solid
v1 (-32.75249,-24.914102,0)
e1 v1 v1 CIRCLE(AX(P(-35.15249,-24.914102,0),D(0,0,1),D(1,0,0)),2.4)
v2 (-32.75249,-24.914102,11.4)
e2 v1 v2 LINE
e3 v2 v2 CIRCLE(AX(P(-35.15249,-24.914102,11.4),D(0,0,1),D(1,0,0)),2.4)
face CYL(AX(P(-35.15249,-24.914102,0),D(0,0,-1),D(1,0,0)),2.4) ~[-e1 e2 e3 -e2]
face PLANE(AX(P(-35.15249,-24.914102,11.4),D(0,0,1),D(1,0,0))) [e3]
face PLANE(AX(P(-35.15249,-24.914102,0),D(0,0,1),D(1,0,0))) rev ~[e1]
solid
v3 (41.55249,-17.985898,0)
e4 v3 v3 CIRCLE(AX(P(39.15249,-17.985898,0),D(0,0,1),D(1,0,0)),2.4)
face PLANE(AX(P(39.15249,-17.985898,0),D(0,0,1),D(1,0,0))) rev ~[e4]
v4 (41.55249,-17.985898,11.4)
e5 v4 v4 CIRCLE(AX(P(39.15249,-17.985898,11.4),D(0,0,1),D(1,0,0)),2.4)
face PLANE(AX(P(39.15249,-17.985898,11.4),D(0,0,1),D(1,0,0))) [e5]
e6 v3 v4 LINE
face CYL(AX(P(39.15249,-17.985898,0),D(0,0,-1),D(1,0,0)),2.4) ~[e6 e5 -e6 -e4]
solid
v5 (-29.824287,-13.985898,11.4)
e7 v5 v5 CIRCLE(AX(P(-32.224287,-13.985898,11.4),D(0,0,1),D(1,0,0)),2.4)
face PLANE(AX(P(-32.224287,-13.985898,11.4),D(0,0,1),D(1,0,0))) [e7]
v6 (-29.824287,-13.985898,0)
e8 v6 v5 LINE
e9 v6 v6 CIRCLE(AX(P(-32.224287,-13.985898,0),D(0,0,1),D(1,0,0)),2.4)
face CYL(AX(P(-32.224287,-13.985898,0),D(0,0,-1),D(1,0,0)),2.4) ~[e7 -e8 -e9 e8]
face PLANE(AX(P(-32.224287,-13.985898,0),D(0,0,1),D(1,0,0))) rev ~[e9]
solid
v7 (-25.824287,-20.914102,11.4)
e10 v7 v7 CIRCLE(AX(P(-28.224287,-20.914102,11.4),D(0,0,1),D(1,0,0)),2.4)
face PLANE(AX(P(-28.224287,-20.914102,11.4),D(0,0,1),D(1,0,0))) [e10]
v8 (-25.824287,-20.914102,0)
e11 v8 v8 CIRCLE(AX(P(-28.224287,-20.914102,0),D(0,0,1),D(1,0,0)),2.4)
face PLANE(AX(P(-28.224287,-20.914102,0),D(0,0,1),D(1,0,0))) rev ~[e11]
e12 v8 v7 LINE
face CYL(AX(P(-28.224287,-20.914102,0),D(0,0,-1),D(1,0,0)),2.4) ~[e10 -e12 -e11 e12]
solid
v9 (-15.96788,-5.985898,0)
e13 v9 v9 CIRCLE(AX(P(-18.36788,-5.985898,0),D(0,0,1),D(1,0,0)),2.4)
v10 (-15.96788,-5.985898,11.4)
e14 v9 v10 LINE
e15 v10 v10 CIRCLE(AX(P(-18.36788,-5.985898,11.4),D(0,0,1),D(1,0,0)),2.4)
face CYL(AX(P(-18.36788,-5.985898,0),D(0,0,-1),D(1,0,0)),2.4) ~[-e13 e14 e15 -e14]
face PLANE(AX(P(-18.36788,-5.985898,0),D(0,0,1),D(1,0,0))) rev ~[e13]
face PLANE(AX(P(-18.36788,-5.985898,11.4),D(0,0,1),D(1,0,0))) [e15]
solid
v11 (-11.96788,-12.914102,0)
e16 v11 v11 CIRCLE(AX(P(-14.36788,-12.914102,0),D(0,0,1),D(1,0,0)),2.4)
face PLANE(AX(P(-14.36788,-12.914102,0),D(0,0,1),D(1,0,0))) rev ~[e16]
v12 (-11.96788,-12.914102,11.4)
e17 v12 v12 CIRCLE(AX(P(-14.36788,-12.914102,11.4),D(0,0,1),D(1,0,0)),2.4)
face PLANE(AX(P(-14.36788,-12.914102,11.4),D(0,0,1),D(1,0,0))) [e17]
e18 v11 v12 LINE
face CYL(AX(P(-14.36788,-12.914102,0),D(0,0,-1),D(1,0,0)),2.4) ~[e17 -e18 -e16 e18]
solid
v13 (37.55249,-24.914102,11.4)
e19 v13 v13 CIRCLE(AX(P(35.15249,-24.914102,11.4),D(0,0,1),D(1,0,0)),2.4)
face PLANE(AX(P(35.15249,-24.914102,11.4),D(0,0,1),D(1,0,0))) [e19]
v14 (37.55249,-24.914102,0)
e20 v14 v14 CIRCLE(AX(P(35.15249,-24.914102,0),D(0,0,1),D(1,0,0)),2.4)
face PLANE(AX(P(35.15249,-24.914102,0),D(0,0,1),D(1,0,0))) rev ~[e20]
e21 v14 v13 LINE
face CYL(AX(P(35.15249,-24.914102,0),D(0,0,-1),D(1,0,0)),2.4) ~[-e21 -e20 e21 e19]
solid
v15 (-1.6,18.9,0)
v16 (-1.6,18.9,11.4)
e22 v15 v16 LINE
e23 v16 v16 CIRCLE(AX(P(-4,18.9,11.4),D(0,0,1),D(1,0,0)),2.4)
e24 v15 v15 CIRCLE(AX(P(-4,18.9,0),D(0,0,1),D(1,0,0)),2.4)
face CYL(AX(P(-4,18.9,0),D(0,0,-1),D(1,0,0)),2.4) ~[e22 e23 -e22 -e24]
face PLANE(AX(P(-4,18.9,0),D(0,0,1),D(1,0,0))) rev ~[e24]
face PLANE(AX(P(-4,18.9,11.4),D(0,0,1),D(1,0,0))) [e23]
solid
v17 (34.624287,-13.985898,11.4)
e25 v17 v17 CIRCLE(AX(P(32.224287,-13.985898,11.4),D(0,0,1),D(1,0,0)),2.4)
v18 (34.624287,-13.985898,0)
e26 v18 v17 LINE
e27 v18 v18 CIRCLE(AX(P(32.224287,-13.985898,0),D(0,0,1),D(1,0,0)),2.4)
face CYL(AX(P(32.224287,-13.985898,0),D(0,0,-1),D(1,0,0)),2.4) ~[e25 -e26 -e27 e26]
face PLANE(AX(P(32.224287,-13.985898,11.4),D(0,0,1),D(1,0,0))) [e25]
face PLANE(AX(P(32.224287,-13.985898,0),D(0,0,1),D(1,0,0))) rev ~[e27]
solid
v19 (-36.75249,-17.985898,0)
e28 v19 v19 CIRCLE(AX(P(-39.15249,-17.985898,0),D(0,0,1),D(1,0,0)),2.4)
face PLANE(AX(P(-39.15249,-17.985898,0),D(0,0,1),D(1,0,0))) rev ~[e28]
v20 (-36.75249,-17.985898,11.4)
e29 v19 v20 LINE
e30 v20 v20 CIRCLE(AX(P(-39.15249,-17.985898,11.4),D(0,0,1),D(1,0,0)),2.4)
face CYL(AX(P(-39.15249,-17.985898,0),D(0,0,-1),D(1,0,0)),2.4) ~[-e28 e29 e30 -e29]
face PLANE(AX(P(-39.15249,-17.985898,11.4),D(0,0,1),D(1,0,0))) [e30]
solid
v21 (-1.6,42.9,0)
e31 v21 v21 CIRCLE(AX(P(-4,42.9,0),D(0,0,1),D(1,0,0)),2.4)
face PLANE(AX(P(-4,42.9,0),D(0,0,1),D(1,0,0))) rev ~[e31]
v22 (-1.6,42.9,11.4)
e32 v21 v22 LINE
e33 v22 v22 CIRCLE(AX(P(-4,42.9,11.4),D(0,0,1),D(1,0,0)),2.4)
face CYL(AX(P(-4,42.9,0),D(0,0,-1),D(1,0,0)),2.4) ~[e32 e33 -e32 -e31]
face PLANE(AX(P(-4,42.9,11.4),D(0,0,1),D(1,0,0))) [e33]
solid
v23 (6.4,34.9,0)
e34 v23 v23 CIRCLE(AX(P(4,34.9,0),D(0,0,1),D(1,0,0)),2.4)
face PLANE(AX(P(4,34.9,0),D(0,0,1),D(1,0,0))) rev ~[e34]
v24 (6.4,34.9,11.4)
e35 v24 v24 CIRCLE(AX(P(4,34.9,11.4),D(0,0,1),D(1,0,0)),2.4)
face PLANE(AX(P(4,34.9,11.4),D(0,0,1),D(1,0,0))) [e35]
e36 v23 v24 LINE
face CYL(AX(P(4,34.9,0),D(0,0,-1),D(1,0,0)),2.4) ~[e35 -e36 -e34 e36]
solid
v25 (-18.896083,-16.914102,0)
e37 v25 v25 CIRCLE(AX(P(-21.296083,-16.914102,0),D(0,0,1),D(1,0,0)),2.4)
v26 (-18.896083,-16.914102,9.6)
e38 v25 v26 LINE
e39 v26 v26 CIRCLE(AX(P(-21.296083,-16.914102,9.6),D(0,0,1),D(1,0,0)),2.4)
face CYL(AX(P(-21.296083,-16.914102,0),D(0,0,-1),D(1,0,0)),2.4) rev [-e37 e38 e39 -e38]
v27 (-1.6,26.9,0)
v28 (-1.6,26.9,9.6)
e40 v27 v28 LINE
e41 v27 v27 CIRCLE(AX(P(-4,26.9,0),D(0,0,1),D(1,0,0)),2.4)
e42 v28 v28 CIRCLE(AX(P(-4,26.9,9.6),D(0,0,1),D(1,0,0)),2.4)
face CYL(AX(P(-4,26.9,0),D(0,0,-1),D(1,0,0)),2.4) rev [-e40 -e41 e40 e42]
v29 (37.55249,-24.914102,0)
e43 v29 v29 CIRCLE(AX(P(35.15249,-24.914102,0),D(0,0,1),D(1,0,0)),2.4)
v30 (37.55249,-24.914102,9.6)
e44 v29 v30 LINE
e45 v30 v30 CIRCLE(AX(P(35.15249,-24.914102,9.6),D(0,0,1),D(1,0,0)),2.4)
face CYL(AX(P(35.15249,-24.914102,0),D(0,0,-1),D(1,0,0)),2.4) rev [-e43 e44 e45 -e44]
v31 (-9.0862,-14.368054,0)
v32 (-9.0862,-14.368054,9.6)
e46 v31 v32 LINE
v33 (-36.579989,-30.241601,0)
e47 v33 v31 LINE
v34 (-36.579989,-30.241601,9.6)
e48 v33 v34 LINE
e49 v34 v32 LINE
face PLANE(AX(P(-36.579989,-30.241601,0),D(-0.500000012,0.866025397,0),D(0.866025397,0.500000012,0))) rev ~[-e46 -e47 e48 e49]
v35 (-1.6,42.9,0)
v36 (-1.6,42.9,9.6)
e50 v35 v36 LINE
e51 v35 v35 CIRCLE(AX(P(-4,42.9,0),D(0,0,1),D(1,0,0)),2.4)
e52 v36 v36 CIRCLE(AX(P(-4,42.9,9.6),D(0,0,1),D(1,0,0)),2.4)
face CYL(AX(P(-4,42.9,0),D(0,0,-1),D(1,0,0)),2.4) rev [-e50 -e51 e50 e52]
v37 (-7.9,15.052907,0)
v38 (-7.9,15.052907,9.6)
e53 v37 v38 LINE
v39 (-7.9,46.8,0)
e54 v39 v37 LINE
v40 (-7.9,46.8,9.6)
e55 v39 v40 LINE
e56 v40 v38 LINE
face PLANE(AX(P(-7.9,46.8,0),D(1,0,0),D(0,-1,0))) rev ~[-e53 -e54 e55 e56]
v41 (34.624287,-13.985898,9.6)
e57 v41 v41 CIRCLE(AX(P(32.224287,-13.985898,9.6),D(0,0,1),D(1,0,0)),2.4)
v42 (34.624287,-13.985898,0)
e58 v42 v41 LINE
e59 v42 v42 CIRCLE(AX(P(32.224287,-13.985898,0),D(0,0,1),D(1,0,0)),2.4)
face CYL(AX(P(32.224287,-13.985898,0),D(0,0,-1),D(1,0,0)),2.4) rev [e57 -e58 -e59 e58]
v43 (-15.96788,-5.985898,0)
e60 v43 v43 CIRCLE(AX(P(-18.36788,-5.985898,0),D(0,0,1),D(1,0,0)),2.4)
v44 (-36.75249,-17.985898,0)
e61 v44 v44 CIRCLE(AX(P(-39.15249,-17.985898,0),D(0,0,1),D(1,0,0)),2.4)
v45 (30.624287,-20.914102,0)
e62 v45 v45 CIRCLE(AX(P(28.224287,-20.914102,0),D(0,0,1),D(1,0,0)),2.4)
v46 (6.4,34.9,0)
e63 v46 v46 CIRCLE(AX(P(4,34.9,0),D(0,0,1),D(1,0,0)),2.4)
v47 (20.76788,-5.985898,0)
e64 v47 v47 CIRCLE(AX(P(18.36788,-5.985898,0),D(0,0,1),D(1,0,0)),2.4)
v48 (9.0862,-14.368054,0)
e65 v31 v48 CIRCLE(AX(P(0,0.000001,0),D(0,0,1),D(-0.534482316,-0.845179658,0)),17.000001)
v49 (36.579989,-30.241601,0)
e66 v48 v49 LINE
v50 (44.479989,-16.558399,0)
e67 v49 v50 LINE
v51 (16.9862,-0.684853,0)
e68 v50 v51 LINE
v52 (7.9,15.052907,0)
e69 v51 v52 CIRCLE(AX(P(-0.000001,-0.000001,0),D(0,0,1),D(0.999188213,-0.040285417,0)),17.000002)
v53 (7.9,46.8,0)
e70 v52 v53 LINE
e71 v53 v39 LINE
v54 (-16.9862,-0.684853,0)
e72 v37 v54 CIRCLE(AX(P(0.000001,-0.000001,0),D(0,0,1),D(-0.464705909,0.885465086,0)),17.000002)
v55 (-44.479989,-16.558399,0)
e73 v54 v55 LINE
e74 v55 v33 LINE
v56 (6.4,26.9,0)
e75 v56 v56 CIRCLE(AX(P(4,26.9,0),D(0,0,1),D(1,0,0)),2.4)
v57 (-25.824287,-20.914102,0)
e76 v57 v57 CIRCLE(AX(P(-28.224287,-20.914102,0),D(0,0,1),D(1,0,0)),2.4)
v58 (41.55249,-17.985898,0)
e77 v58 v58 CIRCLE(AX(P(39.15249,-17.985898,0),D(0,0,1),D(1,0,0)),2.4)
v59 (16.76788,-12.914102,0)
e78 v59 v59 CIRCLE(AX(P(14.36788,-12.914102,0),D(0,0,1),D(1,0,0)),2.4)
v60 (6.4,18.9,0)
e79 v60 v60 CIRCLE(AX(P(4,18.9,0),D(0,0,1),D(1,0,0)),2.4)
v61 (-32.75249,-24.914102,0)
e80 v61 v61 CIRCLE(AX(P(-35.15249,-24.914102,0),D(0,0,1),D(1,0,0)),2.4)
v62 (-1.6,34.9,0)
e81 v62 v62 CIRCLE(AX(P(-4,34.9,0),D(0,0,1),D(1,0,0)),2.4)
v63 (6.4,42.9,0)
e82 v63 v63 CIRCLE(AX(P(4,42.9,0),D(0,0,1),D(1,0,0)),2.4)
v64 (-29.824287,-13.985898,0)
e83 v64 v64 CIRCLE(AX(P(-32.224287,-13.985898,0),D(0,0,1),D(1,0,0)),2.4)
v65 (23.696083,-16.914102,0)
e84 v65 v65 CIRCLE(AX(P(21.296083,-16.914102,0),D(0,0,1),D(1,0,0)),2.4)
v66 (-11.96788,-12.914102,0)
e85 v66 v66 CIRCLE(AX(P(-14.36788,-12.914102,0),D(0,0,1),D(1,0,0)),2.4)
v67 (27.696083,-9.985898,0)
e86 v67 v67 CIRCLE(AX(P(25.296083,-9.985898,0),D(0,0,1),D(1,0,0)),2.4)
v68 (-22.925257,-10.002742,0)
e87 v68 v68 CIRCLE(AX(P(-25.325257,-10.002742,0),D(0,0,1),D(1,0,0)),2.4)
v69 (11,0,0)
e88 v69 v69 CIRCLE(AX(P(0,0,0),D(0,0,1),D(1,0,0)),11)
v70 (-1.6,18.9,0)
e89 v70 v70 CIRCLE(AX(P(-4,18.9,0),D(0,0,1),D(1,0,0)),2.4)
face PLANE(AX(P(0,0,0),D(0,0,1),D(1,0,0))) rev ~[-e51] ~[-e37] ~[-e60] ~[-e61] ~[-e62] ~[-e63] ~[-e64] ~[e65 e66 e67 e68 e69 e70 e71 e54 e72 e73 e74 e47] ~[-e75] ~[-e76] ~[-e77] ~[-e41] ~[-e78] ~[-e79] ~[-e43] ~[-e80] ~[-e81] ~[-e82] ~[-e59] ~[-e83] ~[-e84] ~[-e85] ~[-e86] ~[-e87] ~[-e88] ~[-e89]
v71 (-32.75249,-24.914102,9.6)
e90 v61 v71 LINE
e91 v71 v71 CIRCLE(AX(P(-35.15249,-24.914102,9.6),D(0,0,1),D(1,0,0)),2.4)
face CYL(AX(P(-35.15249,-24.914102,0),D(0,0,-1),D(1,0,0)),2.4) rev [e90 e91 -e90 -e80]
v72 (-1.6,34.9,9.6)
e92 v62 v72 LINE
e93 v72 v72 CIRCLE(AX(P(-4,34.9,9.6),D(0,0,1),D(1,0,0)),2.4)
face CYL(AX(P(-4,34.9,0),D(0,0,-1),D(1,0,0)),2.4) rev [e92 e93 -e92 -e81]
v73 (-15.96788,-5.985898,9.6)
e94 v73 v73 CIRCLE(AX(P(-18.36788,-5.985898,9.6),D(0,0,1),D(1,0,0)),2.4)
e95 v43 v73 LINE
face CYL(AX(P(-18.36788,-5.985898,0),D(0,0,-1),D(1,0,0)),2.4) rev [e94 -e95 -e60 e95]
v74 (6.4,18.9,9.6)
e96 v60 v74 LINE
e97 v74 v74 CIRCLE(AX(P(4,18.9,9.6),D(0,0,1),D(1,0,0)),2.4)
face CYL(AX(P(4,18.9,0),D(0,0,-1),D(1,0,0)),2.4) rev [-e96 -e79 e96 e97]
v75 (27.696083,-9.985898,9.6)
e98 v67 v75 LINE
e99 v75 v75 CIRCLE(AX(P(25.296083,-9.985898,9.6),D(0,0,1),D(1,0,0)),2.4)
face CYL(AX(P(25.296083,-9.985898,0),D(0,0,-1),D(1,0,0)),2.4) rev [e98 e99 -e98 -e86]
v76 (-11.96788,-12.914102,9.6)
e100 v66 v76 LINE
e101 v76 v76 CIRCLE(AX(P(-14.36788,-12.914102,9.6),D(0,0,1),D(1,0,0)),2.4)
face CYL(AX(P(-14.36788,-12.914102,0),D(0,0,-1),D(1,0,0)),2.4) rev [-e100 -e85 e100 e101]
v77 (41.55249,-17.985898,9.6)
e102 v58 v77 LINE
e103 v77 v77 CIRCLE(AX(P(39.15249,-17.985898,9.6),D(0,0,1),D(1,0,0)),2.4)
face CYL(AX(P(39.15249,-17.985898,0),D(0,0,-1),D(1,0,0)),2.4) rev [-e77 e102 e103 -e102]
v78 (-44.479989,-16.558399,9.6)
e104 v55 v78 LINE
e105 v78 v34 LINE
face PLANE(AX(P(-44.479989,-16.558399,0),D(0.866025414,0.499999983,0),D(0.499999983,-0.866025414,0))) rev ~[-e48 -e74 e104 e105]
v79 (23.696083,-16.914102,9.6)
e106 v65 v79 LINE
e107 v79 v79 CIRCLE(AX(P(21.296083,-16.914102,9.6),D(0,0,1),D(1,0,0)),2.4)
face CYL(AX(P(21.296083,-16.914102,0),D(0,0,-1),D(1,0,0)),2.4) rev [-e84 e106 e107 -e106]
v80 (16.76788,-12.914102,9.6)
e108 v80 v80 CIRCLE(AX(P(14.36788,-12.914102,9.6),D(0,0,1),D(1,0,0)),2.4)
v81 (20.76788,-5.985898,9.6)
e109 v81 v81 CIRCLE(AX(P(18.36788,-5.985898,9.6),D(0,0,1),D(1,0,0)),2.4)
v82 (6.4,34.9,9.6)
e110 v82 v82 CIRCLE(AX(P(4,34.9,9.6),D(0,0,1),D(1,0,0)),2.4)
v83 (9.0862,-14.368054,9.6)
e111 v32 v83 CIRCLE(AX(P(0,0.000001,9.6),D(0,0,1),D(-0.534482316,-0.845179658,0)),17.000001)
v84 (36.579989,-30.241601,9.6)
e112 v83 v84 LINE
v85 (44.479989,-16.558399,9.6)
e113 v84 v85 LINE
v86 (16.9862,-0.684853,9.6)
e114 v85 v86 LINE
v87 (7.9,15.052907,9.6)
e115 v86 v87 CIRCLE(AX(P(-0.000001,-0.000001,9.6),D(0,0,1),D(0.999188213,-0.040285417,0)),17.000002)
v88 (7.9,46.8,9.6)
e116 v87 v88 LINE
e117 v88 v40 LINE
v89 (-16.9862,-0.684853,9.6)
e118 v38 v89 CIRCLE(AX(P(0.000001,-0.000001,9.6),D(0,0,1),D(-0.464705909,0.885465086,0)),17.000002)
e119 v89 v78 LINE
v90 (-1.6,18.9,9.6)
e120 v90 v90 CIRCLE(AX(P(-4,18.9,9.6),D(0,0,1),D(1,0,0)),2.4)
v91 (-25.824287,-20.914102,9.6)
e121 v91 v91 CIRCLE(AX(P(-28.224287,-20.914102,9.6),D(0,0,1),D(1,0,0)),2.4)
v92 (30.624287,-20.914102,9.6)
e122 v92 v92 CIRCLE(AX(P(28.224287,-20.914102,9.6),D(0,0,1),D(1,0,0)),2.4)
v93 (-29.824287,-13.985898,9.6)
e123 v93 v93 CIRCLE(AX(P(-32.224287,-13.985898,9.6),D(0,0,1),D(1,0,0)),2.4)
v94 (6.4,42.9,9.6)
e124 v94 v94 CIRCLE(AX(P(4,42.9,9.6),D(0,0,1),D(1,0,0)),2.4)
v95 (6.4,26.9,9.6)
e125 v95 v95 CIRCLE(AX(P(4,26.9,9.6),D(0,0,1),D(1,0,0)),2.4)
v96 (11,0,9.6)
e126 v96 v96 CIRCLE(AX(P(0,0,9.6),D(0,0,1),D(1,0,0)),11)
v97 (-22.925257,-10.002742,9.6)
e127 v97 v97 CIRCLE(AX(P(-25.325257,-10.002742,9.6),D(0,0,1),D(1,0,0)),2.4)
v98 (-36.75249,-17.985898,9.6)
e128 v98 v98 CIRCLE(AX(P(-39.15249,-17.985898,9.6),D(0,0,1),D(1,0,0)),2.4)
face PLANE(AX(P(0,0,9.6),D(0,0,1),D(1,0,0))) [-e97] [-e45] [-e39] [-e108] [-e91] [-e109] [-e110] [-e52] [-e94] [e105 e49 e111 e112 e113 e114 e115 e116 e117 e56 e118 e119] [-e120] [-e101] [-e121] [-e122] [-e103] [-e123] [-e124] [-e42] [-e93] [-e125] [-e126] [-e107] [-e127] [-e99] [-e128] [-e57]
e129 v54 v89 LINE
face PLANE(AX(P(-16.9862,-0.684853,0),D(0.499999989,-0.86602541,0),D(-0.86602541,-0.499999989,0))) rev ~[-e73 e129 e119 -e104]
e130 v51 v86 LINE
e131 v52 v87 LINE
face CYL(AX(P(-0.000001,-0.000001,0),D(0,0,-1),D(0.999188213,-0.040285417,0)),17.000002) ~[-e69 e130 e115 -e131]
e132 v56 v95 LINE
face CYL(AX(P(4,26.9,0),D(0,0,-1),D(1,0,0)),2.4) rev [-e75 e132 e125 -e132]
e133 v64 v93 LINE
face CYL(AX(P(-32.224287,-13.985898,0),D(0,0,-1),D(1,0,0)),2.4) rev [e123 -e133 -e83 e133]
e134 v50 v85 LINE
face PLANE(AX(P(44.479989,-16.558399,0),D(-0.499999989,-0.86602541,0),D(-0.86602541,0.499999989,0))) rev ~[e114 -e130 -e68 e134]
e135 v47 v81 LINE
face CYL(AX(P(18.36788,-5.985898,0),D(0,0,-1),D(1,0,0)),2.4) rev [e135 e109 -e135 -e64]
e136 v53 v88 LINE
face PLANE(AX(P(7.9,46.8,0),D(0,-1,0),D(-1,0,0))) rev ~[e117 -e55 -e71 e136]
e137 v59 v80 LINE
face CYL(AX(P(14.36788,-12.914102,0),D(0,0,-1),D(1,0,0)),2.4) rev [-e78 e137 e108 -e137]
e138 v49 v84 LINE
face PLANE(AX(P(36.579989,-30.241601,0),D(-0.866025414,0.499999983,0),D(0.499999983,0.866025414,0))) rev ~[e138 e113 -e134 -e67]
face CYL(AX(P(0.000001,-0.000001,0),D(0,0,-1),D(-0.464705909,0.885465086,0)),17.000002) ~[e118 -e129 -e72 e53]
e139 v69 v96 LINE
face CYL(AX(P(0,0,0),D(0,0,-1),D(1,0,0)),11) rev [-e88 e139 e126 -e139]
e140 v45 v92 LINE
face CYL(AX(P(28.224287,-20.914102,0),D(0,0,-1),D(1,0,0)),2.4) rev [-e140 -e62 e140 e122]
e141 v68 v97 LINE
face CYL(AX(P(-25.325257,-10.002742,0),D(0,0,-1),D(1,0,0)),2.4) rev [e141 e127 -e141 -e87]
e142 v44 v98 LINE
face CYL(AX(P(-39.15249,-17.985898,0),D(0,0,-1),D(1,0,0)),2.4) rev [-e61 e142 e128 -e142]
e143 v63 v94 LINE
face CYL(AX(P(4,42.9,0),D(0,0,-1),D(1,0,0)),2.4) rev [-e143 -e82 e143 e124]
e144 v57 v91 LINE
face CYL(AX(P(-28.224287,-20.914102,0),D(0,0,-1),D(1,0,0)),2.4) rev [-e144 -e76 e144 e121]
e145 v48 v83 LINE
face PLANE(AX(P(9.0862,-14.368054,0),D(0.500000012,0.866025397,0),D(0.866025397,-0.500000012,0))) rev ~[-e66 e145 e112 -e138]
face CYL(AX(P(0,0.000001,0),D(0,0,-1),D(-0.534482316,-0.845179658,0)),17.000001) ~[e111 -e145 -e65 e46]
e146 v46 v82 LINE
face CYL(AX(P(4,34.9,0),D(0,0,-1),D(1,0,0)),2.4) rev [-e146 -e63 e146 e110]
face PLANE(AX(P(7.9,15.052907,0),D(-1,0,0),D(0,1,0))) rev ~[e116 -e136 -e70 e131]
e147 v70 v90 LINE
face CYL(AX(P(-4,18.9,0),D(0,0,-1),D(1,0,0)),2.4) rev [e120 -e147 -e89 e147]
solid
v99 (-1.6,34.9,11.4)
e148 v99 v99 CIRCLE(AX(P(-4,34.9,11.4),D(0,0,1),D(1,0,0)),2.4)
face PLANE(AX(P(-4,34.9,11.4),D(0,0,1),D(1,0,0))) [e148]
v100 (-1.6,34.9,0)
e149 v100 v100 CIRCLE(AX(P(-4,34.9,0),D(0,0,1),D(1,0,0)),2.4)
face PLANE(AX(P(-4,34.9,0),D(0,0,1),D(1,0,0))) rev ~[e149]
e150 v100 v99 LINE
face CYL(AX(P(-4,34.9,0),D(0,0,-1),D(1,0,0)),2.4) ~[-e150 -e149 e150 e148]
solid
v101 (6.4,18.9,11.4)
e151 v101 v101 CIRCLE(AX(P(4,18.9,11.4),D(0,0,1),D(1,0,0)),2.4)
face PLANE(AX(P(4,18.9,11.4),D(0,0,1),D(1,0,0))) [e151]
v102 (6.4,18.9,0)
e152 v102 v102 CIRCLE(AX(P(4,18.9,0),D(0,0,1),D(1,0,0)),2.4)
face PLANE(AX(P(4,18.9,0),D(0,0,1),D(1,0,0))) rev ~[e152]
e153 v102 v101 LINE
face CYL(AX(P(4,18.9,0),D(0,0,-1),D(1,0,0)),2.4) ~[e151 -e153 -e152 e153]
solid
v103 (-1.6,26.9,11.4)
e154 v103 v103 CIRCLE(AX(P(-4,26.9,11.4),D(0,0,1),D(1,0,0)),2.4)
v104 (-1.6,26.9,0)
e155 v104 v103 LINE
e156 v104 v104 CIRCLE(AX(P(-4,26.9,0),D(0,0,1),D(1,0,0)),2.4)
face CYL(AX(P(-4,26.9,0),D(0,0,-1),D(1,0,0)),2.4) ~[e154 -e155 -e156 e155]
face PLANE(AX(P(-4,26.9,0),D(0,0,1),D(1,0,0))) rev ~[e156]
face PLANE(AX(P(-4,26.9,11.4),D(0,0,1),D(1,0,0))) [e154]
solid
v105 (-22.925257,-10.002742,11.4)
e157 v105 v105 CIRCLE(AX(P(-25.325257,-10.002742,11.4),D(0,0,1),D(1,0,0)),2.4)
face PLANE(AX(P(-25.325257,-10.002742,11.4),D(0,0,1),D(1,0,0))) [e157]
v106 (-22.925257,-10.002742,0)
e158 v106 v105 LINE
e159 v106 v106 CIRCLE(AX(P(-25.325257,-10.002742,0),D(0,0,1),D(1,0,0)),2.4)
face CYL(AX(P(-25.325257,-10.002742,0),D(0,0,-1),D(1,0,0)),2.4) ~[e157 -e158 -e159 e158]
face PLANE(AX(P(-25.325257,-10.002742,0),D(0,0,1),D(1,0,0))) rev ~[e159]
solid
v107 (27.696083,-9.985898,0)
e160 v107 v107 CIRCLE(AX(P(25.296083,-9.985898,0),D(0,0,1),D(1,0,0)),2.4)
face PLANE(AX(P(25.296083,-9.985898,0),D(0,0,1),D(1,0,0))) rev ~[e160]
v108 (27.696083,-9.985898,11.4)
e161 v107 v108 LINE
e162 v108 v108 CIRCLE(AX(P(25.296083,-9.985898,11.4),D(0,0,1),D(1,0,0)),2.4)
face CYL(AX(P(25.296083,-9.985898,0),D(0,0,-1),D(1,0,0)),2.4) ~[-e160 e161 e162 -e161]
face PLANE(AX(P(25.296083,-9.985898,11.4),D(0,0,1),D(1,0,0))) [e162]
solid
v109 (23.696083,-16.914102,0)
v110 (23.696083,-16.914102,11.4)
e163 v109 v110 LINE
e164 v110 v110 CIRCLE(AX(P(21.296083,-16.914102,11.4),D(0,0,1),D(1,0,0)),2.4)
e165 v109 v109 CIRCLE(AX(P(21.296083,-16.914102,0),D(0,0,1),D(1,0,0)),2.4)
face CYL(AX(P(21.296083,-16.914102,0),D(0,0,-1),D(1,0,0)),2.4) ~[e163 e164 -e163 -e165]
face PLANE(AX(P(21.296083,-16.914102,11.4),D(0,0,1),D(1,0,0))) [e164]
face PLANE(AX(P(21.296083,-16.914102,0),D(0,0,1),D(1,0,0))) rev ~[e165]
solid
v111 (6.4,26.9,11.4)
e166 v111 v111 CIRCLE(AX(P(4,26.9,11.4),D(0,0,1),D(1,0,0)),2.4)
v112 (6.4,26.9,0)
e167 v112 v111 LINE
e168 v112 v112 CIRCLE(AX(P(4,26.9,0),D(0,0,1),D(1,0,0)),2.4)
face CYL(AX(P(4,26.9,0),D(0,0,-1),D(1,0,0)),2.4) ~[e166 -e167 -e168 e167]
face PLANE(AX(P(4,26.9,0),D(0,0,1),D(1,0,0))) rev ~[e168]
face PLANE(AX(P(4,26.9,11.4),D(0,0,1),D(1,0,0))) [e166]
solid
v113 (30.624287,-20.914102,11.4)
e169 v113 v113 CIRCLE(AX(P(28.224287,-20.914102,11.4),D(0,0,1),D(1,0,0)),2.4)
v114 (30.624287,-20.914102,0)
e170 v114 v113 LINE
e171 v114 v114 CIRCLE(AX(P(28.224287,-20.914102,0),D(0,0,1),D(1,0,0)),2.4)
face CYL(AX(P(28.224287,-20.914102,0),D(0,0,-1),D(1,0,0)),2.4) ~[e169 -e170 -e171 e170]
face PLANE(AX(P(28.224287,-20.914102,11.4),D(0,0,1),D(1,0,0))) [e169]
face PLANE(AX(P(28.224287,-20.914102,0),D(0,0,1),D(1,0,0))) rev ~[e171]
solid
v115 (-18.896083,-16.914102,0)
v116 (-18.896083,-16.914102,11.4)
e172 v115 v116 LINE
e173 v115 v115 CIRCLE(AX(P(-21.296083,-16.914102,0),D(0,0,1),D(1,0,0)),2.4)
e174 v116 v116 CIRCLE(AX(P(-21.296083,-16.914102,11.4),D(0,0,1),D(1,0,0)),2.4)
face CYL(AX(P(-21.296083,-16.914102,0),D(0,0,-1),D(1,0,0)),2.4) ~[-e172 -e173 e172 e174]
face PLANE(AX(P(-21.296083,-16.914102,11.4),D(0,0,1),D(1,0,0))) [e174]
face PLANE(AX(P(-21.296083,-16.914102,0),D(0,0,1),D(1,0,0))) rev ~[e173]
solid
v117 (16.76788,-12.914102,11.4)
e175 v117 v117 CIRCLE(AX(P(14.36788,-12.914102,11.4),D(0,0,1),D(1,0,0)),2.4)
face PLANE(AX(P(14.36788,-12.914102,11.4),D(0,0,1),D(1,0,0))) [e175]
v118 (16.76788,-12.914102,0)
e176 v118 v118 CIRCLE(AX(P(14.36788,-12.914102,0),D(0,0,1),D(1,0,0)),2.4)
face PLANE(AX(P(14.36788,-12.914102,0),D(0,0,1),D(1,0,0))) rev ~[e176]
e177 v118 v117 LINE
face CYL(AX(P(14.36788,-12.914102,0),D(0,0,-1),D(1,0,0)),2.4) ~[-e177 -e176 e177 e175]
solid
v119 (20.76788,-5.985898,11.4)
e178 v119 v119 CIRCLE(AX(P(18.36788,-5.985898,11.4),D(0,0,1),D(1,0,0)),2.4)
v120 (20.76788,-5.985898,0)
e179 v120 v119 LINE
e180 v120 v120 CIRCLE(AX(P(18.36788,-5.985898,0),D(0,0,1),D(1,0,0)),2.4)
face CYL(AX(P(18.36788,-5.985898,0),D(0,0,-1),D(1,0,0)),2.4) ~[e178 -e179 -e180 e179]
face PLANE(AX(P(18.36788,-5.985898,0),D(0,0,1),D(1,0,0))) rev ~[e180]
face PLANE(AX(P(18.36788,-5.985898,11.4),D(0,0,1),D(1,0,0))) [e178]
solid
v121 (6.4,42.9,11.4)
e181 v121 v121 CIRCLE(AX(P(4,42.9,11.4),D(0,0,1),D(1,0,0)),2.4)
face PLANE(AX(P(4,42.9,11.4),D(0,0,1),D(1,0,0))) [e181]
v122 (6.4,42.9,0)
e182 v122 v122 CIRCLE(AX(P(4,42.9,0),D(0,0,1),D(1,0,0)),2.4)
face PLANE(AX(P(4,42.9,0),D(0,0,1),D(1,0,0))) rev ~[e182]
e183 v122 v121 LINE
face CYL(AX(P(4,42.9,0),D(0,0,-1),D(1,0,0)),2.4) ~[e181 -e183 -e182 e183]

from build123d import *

# Parameters (mm, degrees)
F0_R     = 2.4
F1_DEPTH = 11.4
F0_R_2   = 11
F2_DEPTH = 9.6


with BuildPart() as f1:
    # F0 (on Top) → F1 (new body)
    with BuildSketch(Plane.XY):
        with Locations((4, 34.9)):
            Circle(F0_R)
        with Locations((-4, 42.9)):
            Circle(F0_R)
        with Locations((4, 42.9)):
            Circle(F0_R)
        with Locations((-4, 34.9)):
            Circle(F0_R)
        with Locations((-4, 26.9)):
            Circle(F0_R)
        with Locations((4, 26.9)):
            Circle(F0_R)
        with Locations((-4, 18.9)):
            Circle(F0_R)
        with Locations((4, 18.9)):
            Circle(F0_R)
        with Locations((-35.15249, -24.914102)):
            Circle(F0_R)
        with Locations((-39.15249, -17.985898)):
            Circle(F0_R)
        with Locations((-32.224287, -13.985898)):
            Circle(F0_R)
        with Locations((-25.325257, -10.002742)):
            Circle(F0_R)
        with Locations((-18.36788, -5.985898)):
            Circle(F0_R)
        with Locations((-14.36788, -12.914102)):
            Circle(F0_R)
        with Locations((-21.296083, -16.914102)):
            Circle(F0_R)
        with Locations((-28.224287, -20.914102)):
            Circle(F0_R)
        with Locations((14.36788, -12.914102)):
            Circle(F0_R)
        with Locations((18.36788, -5.985898)):
            Circle(F0_R)
        with Locations((25.296083, -9.985898)):
            Circle(F0_R)
        with Locations((32.224287, -13.985898)):
            Circle(F0_R)
        with Locations((39.15249, -17.985898)):
            Circle(F0_R)
        with Locations((35.15249, -24.914102)):
            Circle(F0_R)
        with Locations((28.224287, -20.914102)):
            Circle(F0_R)
        with Locations((21.296083, -16.914102)):
            Circle(F0_R)
    extrude(amount=F1_DEPTH)


with BuildPart() as f2:
    # F0 (on Top) → F2 (new body)
    with BuildSketch(Plane.XY):
        with BuildLine():
            Line((-7.9, 46.8), (-7.9, 15.052907))
            ThreePointArc((-7.9, 15.052907), (-14.722432, 8.5), (-16.9862, -0.684853))
            Line((-16.9862, -0.684853), (-44.479989, -16.558399))
            Line((-44.479989, -16.558399), (-40.529989, -23.4))
            Line((-40.529989, -23.4), (-36.579989, -30.241601))
            Line((-36.579989, -30.241601), (-9.0862, -14.368054))
            ThreePointArc((-9.0862, -14.368054), (0, -17), (9.0862, -14.368054))
            Line((9.0862, -14.368054), (36.579989, -30.241601))
            Line((36.579989, -30.241601), (40.529989, -23.4))
            Line((40.529989, -23.4), (44.479989, -16.558399))
            Line((44.479989, -16.558399), (16.9862, -0.684853))
            ThreePointArc((16.9862, -0.684853), (14.722432, 8.5), (7.9, 15.052907))
            Line((7.9, 15.052907), (7.9, 46.8))
            Line((7.9, 46.8), (0, 46.8))
            Line((0, 46.8), (-7.9, 46.8))
        make_face()
        with Locations((-35.15249, -24.914102)):
            Circle(F0_R, mode=Mode.SUBTRACT)
        with Locations((-28.224287, -20.914102)):
            Circle(F0_R, mode=Mode.SUBTRACT)
        with Locations((-39.15249, -17.985898)):
            Circle(F0_R, mode=Mode.SUBTRACT)
        with Locations((-32.224287, -13.985898)):
            Circle(F0_R, mode=Mode.SUBTRACT)
        with Locations((-21.296083, -16.914102)):
            Circle(F0_R, mode=Mode.SUBTRACT)
        with Locations((-14.36788, -12.914102)):
            Circle(F0_R, mode=Mode.SUBTRACT)
        with Locations((-25.325257, -10.002742)):
            Circle(F0_R, mode=Mode.SUBTRACT)
        with Locations((-18.36788, -5.985898)):
            Circle(F0_R, mode=Mode.SUBTRACT)
        Circle(F0_R_2, mode=Mode.SUBTRACT)
        with Locations((21.296083, -16.914102)):
            Circle(F0_R, mode=Mode.SUBTRACT)
        with Locations((14.36788, -12.914102)):
            Circle(F0_R, mode=Mode.SUBTRACT)
        with Locations((28.224287, -20.914102)):
            Circle(F0_R, mode=Mode.SUBTRACT)
        with Locations((35.15249, -24.914102)):
            Circle(F0_R, mode=Mode.SUBTRACT)
        with Locations((32.224287, -13.985898)):
            Circle(F0_R, mode=Mode.SUBTRACT)
        with Locations((39.15249, -17.985898)):
            Circle(F0_R, mode=Mode.SUBTRACT)
        with Locations((18.36788, -5.985898)):
            Circle(F0_R, mode=Mode.SUBTRACT)
        with Locations((25.296083, -9.985898)):
            Circle(F0_R, mode=Mode.SUBTRACT)
        with Locations((-4, 18.9)):
            Circle(F0_R, mode=Mode.SUBTRACT)
        with Locations((-4, 26.9)):
            Circle(F0_R, mode=Mode.SUBTRACT)
        with Locations((-4, 34.9)):
            Circle(F0_R, mode=Mode.SUBTRACT)
        with Locations((-4, 42.9)):
            Circle(F0_R, mode=Mode.SUBTRACT)
        with Locations((4, 18.9)):
            Circle(F0_R, mode=Mode.SUBTRACT)
        with Locations((4, 26.9)):
            Circle(F0_R, mode=Mode.SUBTRACT)
        with Locations((4, 34.9)):
            Circle(F0_R, mode=Mode.SUBTRACT)
        with Locations((4, 42.9)):
            Circle(F0_R, mode=Mode.SUBTRACT)
    extrude(amount=F2_DEPTH)


solid = Compound([f1.part, f2.part])
